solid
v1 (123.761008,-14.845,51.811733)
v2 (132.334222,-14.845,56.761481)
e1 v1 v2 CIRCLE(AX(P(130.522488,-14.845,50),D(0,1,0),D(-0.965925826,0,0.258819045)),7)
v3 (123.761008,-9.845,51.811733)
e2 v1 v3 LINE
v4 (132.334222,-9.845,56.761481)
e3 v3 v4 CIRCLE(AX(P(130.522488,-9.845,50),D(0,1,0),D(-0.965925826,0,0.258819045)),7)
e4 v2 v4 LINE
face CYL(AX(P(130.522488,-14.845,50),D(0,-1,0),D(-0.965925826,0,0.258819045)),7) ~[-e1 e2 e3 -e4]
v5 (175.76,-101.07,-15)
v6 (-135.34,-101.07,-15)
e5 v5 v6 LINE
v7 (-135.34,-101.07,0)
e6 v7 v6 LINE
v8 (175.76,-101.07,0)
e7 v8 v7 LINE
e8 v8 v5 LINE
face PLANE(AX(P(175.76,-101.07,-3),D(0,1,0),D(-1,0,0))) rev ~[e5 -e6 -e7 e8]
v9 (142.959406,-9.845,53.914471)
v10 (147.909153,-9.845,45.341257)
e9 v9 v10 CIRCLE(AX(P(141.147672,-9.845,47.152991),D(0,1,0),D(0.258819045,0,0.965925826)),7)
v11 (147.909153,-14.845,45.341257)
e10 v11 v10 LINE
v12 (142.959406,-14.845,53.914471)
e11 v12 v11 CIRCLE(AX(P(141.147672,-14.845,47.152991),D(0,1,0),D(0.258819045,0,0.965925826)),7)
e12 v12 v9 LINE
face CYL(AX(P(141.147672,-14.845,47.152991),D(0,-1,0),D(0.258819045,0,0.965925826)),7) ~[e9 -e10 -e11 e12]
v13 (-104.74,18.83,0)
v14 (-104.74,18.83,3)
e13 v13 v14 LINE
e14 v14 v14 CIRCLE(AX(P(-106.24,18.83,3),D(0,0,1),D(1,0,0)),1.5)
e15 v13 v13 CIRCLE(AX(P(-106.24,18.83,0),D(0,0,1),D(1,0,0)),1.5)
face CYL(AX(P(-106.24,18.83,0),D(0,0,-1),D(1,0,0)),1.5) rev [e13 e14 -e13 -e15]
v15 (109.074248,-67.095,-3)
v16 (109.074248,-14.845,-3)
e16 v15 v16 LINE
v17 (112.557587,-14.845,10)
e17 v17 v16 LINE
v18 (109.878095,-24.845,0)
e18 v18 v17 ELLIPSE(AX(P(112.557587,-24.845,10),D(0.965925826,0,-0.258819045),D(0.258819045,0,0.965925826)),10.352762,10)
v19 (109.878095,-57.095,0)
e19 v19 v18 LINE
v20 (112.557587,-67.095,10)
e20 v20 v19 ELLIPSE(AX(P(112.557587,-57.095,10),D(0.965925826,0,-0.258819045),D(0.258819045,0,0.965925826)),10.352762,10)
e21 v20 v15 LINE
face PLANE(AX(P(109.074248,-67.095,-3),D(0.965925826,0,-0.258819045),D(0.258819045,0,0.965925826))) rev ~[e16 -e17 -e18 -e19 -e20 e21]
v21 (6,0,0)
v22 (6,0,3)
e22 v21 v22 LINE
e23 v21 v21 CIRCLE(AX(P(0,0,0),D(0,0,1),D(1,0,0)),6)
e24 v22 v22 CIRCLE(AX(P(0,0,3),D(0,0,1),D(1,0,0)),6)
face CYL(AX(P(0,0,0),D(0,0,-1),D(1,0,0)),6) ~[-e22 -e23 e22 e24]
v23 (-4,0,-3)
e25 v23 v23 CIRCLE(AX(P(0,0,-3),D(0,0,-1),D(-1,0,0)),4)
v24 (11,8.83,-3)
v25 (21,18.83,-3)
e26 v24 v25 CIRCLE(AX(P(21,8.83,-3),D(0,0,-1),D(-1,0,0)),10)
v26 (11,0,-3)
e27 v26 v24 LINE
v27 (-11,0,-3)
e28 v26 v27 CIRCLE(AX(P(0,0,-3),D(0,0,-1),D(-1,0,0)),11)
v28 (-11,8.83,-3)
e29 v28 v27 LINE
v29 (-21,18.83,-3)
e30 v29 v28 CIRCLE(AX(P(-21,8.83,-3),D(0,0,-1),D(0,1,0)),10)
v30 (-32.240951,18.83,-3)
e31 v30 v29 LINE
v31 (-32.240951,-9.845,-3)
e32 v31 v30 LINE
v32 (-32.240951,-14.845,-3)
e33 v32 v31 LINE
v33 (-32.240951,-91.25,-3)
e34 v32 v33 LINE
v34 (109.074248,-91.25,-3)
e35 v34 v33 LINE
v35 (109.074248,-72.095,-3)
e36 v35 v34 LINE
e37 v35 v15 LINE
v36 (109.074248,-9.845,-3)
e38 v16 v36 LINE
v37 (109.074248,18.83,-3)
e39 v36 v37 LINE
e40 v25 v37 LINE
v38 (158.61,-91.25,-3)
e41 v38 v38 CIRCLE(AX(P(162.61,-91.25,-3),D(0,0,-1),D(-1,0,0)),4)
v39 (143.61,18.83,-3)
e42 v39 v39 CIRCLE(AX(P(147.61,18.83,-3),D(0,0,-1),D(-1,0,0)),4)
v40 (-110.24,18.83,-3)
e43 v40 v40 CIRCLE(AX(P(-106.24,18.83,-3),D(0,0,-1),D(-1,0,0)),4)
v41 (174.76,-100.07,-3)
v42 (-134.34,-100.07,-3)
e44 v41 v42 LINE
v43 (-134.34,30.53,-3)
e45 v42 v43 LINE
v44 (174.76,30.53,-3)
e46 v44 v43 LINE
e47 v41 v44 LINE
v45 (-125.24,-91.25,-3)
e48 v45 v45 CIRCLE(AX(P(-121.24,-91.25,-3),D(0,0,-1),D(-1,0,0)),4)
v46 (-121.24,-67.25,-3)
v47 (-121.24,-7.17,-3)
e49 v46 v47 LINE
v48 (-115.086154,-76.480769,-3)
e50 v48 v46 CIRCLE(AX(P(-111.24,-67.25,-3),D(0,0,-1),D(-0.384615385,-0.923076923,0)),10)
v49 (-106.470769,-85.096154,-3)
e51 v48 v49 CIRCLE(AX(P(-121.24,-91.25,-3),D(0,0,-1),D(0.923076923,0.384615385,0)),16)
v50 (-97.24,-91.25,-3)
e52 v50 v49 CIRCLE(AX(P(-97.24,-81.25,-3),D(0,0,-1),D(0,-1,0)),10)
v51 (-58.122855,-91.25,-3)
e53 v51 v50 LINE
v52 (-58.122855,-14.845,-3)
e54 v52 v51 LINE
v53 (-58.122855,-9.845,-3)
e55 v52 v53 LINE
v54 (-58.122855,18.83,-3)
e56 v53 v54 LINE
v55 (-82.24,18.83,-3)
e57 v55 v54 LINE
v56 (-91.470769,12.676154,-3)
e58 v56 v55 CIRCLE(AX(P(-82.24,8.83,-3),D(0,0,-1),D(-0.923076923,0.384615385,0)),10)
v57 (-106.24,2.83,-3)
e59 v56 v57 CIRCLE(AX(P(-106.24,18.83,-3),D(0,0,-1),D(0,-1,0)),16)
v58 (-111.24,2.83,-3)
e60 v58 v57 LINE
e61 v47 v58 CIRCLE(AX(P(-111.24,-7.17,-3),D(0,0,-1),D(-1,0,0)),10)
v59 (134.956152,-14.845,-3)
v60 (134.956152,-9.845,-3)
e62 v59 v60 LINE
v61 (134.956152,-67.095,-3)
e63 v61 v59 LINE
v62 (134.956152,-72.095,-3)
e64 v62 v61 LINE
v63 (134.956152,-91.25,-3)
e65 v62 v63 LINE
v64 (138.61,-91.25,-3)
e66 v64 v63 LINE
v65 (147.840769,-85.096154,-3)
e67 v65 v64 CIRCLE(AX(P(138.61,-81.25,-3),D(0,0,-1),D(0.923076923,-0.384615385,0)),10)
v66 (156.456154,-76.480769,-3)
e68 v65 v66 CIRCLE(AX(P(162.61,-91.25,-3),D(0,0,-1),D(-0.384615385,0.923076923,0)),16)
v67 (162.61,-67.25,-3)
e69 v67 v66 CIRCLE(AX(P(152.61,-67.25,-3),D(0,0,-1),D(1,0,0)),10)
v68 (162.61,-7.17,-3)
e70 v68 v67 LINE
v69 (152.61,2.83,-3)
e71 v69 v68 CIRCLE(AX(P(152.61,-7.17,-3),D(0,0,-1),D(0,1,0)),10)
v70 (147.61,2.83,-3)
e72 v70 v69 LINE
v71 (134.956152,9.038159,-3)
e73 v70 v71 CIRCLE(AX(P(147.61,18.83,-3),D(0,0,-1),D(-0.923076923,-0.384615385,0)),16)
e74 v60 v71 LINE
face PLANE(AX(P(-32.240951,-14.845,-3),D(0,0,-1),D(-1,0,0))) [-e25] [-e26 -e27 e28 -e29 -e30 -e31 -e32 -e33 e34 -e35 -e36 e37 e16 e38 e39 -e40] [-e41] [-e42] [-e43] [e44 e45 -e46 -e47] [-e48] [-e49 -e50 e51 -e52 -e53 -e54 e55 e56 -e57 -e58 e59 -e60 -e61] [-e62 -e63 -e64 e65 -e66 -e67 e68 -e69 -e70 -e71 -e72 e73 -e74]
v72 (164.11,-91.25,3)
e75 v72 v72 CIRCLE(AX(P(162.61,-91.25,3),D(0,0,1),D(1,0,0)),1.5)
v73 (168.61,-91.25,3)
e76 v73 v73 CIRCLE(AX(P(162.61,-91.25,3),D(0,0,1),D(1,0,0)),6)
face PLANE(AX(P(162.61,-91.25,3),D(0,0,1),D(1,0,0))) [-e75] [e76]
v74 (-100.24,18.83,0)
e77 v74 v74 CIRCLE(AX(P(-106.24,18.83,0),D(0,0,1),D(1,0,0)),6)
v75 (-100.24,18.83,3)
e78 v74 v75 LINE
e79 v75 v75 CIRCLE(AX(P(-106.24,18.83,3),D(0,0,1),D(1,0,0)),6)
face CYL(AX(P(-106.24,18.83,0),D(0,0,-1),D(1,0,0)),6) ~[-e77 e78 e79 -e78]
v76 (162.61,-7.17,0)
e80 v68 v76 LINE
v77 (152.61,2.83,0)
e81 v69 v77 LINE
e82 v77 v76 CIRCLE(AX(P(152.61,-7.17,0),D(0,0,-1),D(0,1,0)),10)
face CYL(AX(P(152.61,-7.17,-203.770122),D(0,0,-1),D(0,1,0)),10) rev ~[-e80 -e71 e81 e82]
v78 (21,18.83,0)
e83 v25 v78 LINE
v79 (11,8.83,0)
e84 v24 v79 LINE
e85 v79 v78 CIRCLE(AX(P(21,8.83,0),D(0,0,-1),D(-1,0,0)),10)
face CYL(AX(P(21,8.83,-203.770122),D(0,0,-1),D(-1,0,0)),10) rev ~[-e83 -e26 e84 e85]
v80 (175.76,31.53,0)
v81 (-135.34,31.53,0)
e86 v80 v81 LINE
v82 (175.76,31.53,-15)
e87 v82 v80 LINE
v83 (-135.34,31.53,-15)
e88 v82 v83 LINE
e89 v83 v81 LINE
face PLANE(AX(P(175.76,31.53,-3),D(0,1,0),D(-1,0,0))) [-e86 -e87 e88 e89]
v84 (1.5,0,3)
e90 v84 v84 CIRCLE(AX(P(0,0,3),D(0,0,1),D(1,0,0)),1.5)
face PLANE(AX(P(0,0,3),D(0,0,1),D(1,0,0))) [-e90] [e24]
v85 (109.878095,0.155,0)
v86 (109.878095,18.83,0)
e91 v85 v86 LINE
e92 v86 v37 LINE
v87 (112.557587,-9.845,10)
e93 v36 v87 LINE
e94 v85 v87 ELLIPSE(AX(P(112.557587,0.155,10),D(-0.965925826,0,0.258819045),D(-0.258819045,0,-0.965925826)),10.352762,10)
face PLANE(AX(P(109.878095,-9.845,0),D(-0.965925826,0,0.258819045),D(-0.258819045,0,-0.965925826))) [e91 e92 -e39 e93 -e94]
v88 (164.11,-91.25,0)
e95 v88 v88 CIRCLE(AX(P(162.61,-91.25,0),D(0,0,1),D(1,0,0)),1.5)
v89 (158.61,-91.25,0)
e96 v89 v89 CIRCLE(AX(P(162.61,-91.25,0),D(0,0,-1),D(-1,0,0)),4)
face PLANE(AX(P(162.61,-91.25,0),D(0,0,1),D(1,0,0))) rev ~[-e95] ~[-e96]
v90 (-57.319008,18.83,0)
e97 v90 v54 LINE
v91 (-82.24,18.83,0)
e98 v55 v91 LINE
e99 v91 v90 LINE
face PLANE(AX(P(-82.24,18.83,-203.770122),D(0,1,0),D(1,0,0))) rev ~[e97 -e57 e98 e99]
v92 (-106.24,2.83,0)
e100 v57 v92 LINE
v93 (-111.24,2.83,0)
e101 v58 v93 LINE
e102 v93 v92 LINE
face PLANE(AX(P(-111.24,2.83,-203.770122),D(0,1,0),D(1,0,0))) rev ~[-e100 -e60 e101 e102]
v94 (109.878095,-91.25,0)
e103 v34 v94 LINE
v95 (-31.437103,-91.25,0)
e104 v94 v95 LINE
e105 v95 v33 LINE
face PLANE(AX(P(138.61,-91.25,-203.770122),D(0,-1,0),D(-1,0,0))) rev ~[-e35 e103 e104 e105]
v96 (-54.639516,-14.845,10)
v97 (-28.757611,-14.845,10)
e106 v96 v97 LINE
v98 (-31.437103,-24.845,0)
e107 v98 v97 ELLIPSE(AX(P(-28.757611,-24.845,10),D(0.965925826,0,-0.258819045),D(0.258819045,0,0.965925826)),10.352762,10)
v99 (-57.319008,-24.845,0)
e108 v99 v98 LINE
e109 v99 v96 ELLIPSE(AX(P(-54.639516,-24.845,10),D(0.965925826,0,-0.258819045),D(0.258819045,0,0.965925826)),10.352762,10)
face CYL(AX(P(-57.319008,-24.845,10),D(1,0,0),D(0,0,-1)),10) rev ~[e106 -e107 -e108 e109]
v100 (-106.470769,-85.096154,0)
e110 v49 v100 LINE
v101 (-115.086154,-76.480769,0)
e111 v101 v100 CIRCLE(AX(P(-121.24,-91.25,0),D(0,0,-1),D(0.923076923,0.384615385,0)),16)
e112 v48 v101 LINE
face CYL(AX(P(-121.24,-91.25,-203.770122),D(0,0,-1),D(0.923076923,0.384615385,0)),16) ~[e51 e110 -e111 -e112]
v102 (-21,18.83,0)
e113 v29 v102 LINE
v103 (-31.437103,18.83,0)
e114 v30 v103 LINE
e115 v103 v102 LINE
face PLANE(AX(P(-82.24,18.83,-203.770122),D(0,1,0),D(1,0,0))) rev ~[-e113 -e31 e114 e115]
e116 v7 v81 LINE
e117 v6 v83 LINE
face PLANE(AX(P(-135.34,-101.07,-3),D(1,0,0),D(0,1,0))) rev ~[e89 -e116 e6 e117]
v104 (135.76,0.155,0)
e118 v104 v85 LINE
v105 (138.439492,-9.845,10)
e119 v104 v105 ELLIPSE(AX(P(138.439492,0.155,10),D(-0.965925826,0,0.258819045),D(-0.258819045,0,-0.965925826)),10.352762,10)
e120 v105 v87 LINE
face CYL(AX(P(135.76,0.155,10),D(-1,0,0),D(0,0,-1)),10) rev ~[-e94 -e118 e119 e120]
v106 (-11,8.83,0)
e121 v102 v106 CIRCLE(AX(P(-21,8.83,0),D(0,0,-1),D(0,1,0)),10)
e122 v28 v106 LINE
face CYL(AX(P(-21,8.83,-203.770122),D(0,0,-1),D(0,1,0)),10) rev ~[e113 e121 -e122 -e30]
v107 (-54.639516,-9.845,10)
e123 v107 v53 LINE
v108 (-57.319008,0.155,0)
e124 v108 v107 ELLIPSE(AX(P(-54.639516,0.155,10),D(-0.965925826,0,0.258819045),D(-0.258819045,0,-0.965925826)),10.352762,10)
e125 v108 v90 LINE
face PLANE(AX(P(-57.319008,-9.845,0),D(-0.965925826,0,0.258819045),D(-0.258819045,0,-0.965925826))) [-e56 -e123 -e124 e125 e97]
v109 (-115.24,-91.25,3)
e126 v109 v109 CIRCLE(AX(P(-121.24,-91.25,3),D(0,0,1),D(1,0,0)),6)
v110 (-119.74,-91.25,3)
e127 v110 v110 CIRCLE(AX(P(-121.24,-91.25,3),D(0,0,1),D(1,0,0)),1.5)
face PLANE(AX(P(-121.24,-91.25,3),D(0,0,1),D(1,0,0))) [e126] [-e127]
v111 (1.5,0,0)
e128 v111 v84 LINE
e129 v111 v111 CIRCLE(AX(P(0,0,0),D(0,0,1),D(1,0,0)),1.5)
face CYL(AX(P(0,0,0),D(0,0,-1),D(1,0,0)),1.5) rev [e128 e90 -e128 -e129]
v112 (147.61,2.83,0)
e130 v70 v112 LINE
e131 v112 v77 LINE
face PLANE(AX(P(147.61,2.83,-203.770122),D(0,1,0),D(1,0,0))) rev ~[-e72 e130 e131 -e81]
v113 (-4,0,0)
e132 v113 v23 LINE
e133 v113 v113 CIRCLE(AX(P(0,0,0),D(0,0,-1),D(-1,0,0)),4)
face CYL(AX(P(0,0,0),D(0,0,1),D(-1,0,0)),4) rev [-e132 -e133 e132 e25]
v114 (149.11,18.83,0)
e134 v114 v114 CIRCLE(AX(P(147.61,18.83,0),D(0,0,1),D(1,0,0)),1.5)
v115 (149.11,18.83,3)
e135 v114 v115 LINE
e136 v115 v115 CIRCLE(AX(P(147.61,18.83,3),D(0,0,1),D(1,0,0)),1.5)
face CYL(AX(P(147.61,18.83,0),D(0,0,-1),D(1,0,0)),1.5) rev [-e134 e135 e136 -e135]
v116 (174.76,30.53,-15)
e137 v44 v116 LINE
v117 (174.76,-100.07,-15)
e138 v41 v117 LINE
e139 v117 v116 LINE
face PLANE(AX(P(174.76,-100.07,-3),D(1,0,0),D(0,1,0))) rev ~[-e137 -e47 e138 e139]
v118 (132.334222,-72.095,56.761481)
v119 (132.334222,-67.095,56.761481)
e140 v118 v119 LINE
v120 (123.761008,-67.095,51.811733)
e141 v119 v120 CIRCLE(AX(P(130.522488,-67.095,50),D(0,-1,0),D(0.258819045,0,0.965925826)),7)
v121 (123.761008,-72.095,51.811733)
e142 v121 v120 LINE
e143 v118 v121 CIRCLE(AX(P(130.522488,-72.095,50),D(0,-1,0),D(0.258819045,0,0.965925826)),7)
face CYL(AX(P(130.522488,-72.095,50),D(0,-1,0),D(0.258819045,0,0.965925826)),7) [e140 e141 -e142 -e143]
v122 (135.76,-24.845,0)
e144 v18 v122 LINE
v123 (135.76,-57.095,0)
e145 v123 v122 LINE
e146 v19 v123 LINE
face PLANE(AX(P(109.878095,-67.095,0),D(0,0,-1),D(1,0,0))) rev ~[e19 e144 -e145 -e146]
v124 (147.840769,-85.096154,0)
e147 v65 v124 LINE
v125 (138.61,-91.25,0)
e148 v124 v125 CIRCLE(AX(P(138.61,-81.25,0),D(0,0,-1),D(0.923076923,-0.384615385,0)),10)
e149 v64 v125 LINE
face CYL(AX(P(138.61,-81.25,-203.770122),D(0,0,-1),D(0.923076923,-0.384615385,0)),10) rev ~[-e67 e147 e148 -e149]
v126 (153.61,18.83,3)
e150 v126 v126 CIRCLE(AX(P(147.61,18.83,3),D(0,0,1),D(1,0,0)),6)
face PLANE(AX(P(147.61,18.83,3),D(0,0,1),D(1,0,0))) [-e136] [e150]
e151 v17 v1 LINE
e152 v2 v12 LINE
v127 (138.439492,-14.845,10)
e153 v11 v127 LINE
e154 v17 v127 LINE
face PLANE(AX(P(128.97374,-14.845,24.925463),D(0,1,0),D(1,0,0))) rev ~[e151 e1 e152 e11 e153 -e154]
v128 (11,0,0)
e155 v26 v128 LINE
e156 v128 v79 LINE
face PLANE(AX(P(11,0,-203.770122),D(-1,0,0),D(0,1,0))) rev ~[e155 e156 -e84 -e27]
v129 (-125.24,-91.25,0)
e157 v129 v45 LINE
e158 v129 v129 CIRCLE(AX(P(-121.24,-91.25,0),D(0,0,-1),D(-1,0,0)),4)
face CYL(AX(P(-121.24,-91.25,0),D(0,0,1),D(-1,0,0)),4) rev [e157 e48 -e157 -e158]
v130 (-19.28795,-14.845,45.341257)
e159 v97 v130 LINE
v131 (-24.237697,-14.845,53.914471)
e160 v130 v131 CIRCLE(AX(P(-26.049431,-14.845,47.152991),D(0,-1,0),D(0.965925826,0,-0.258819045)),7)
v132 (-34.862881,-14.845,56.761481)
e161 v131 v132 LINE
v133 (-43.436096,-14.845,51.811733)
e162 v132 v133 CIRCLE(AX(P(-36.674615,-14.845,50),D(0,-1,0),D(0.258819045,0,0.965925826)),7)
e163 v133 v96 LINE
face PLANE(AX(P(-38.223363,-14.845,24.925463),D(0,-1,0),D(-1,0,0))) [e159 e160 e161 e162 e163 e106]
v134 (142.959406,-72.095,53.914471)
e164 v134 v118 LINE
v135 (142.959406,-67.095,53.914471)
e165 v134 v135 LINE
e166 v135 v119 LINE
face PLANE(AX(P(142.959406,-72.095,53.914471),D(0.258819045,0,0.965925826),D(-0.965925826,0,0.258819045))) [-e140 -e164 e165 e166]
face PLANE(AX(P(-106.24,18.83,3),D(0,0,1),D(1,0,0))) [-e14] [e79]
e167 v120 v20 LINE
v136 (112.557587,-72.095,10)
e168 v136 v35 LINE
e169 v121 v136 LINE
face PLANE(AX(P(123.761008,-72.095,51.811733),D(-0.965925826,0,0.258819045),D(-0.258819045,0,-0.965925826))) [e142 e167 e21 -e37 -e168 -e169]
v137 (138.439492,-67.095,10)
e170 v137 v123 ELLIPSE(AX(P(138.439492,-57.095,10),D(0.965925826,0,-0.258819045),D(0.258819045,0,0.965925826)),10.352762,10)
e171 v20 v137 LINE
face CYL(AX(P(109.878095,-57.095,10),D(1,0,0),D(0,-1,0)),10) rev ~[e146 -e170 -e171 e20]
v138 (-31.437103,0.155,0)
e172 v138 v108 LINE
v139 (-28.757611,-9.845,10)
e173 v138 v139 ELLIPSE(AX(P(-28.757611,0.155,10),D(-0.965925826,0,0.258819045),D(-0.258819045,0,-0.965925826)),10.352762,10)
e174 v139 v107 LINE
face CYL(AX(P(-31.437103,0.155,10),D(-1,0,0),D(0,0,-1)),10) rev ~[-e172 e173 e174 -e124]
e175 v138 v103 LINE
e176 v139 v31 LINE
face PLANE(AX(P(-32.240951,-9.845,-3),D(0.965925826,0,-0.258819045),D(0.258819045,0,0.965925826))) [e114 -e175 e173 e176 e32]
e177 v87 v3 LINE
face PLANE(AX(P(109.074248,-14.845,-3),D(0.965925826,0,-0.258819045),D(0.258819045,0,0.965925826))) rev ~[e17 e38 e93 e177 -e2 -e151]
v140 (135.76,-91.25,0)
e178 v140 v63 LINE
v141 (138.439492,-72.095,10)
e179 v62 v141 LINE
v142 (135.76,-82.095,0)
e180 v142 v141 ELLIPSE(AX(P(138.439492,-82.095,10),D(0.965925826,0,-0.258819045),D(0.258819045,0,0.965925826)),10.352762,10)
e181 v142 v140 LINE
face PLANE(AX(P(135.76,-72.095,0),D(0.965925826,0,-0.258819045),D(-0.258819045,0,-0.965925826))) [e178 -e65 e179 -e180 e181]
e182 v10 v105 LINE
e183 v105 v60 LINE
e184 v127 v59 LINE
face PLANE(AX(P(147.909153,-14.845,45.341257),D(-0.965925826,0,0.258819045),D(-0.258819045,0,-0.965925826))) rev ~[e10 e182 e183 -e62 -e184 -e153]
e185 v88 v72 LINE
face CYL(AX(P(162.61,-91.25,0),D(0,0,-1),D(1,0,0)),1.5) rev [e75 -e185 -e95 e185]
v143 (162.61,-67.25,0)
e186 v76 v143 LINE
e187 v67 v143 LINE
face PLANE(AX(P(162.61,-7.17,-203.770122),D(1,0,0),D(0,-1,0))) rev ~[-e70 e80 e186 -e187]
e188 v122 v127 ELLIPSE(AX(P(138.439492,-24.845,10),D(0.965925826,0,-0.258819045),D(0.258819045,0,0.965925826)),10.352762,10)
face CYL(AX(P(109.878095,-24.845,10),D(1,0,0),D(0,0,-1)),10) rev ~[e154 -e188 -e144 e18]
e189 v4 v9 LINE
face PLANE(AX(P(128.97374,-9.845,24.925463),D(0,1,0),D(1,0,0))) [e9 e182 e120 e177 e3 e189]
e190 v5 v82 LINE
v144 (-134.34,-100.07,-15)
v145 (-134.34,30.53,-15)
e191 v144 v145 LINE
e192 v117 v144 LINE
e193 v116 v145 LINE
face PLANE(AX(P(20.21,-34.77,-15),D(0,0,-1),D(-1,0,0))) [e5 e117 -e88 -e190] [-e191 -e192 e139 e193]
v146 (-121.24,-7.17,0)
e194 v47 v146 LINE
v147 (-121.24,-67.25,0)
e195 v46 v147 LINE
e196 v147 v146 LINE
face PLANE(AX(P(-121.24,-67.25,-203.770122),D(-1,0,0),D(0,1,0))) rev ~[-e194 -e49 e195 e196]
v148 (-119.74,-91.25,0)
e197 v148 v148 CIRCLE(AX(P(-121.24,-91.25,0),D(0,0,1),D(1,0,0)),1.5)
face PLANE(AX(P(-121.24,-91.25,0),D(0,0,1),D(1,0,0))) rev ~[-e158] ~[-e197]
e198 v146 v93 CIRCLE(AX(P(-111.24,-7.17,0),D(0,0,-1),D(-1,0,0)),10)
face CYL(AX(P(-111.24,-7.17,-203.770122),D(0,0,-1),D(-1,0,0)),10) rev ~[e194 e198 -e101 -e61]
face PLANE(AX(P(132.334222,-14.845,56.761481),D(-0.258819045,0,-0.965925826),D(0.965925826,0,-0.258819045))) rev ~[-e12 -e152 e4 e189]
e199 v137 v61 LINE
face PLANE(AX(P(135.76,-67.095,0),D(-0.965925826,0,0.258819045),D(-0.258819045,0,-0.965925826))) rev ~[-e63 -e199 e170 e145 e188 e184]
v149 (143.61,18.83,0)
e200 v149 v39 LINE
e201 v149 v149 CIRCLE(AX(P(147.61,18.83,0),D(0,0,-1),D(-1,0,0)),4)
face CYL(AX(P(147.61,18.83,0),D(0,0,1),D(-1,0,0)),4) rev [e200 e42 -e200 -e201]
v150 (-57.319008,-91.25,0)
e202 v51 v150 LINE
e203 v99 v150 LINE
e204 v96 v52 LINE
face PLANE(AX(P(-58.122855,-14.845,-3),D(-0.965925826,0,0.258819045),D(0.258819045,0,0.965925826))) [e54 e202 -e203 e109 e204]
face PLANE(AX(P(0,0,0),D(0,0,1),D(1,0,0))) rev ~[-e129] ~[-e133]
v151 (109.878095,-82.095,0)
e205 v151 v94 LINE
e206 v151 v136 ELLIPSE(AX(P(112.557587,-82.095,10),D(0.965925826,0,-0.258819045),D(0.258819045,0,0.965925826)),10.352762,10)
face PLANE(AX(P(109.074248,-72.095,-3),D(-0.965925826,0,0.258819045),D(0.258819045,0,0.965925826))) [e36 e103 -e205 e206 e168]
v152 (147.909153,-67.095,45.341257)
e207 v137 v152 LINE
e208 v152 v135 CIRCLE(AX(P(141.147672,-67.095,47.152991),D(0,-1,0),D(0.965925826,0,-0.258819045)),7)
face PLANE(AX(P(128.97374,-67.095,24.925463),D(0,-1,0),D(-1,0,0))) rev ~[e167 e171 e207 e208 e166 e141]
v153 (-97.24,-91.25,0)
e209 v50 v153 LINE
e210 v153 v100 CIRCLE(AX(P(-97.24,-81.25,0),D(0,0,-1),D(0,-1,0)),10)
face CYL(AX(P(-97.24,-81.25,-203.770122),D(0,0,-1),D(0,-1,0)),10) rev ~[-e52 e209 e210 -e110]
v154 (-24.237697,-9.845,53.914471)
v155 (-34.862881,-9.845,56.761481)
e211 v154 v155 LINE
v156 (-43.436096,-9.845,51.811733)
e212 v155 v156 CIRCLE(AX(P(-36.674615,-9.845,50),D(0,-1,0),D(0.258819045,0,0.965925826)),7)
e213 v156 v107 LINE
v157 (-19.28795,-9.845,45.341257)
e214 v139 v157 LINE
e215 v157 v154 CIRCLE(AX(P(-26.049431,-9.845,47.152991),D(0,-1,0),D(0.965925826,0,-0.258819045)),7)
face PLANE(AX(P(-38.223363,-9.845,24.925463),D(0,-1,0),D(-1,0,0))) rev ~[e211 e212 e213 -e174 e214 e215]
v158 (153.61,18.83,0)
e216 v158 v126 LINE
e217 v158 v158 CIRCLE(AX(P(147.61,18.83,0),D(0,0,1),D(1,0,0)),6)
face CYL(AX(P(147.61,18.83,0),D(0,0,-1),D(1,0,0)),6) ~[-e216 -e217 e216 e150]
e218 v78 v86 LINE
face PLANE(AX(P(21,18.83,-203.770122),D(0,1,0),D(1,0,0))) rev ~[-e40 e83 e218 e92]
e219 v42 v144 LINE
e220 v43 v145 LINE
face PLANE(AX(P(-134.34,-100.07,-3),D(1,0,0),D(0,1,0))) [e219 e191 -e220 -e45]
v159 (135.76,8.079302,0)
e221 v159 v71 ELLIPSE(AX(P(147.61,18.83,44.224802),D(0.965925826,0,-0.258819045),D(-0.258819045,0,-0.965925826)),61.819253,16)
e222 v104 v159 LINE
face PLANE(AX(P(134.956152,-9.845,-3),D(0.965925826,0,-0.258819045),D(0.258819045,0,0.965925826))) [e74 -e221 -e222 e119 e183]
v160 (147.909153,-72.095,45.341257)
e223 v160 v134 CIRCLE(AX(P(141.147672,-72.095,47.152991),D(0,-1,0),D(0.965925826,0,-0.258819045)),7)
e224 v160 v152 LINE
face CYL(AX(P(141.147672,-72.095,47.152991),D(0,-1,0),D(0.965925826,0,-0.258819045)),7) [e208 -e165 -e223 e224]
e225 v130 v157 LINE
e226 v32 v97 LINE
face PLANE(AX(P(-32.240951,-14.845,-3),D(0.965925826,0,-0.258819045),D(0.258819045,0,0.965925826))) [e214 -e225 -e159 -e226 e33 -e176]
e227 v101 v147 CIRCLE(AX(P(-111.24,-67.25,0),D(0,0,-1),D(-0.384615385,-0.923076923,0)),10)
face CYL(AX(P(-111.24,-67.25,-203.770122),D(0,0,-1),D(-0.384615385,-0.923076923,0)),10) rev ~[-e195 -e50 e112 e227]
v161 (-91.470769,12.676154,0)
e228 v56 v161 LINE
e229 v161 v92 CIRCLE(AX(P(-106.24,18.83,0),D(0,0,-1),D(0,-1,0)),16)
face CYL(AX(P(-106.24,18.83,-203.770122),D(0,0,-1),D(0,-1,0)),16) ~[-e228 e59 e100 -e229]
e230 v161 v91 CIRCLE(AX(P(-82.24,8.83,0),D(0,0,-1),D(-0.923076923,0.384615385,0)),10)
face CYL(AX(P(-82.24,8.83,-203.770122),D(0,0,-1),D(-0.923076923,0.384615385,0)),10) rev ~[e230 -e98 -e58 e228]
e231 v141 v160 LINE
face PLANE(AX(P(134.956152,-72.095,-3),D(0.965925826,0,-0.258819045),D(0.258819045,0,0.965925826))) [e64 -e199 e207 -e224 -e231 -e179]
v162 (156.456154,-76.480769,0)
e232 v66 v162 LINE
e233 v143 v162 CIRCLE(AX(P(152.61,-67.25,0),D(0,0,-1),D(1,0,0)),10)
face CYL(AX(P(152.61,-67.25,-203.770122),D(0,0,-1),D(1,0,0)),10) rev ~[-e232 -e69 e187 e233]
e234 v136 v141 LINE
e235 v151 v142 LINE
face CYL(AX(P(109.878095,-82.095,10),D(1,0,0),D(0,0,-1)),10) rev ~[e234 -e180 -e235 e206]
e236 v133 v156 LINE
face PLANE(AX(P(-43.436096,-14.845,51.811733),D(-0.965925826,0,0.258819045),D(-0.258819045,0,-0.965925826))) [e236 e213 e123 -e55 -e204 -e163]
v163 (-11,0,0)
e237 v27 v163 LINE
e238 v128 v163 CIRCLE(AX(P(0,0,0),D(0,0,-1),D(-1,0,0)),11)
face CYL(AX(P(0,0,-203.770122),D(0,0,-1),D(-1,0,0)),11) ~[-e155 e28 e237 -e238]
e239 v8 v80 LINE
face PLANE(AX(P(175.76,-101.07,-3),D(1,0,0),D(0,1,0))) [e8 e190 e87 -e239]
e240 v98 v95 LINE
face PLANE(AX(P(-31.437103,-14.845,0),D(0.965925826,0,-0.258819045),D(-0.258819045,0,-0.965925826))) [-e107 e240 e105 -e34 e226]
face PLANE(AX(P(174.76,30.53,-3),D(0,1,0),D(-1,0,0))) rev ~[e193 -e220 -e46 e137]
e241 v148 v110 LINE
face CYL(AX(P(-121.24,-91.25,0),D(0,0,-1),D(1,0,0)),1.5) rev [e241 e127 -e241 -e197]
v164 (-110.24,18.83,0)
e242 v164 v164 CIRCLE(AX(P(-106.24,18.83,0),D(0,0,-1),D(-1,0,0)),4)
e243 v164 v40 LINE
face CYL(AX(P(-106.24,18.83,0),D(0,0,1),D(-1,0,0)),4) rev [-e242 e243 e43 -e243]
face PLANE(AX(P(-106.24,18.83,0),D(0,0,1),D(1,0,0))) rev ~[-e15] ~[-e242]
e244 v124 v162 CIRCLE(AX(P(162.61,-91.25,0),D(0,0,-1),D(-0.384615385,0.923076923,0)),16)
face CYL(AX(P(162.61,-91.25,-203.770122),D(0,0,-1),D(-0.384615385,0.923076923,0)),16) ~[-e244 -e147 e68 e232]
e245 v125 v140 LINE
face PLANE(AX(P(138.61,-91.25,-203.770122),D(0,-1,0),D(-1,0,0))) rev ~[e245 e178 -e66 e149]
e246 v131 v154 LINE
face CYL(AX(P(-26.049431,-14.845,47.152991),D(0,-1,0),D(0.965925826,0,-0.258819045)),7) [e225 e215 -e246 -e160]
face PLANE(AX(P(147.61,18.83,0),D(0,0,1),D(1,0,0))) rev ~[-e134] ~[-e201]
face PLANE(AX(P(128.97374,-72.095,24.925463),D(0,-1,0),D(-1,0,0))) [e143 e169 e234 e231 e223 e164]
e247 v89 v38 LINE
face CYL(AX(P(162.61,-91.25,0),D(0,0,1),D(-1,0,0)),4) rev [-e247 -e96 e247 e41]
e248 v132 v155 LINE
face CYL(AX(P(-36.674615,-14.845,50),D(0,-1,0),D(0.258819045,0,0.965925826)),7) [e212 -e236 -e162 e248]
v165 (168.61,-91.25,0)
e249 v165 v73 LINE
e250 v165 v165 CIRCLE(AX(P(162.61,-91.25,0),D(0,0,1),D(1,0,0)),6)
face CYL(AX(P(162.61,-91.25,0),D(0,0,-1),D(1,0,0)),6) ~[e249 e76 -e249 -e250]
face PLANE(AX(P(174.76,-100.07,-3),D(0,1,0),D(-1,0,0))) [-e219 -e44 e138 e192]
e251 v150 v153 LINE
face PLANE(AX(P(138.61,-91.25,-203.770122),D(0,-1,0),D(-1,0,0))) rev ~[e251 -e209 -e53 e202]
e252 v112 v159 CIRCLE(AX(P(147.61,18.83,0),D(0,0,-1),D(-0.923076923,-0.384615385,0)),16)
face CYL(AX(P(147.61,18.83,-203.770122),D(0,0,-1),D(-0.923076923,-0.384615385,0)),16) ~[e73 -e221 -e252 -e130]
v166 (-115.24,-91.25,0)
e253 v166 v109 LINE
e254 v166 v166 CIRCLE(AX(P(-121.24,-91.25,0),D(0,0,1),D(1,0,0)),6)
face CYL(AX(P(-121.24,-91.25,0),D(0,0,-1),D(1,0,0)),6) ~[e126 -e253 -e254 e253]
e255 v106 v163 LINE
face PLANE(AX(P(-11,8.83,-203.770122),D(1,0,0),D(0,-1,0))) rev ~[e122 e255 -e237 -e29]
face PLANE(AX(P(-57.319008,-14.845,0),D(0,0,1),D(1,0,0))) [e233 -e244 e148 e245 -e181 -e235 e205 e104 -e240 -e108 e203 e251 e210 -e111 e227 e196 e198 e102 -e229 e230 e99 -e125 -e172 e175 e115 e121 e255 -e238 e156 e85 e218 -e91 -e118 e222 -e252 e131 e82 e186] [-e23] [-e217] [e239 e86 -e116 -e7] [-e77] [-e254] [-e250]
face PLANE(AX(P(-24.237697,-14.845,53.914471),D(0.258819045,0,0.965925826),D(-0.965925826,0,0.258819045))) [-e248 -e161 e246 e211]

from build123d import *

# Parameters (mm, degrees)
SKETCH1_R                             = 6
SKETCH1_R_2                           = 1.5
DISPLAY_SCREW_PATTERN_DEPTH           = 3
DISPLAY_SCREW_PATTERN_2_DEPTH         = 3
DISPLAY_SCREW_PATTERN_3_DEPTH         = 3
DISPLAY_SCREW_PATTERN_4_DEPTH         = 3
DISPLAY_SCREW_PATTERN_5_DEPTH         = 3
SKETCH2_W                             = 311.1
SKETCH2_H                             = 132.6
SKETCH2_R                             = 4
DISPLAY_BACKPLANE_DEPTH               = 3
BACKPLANE_WEIGHT_REDUCTION_DEPTH      = 203.770122306
BACKPLANE_WEIGHT_REDUCTION_DEPTH_BACK = 203.770122306
SKETCH4_W                             = 311.1
SKETCH4_H                             = 132.6
SKETCH4_W_2                           = 309.1
SKETCH4_H_2                           = 130.6
DISPLAY_OUTSIDE_CRADDLE_DEPTH         = 12
BOTTOM_RADIO_MOUNT_TABS_DEPTH         = 5
TOP_RADIO_MOUNT_TABS_DEPTH            = 5
TOP_RADIO_MOUNT_TABS_2_DEPTH          = 5
BOSS_EXTRUDE6_REACH                   = 208.065
BOSS_EXTRUDE7_REACH                   = 211.446
BOSS_EXTRUDE8_REACH                   = 213.846
BOSS_EXTRUDE9_REACH                   = 205.9
TAB_FILLETS_10MM_R                    = 10


with BuildPart() as part:
    # Sketch1 → Display screw pattern (new body)
    with BuildSketch(Plane.XY):
        Circle(SKETCH1_R)
        Circle(SKETCH1_R_2, mode=Mode.SUBTRACT)
    extrude(amount=DISPLAY_SCREW_PATTERN_DEPTH)



with BuildPart() as body_2:
    # Sketch1 → Display screw pattern 2 (new body)
    with BuildSketch(Plane.XY):
        with Locations((-106.24, 18.83)):
            Circle(SKETCH1_R)
        with Locations((-106.24, 18.83)):
            Circle(SKETCH1_R_2, mode=Mode.SUBTRACT)
    extrude(amount=DISPLAY_SCREW_PATTERN_2_DEPTH)


with BuildPart() as body_3:
    # Sketch1 → Display screw pattern 3 (new body)
    with BuildSketch(Plane.XY):
        with Locations((147.61, 18.83)):
            Circle(SKETCH1_R)
        with Locations((147.61, 18.83)):
            Circle(SKETCH1_R_2, mode=Mode.SUBTRACT)
    extrude(amount=DISPLAY_SCREW_PATTERN_3_DEPTH)


with BuildPart() as body_4:
    # Sketch1 → Display screw pattern 4 (new body)
    with BuildSketch(Plane.XY):
        with Locations((-121.24, -91.25)):
            Circle(SKETCH1_R)
        with Locations((-121.24, -91.25)):
            Circle(SKETCH1_R_2, mode=Mode.SUBTRACT)
    extrude(amount=DISPLAY_SCREW_PATTERN_4_DEPTH)


with BuildPart() as body_5:
    # Sketch1 → Display screw pattern 5 (new body)
    with BuildSketch(Plane.XY):
        with Locations((162.61, -91.25)):
            Circle(SKETCH1_R)
        with Locations((162.61, -91.25)):
            Circle(SKETCH1_R_2, mode=Mode.SUBTRACT)
    extrude(amount=DISPLAY_SCREW_PATTERN_5_DEPTH)


with BuildPart() as part_1:
    add(part.part)

    add(body_2.part)  # Display backplane merges body 2

    add(body_3.part)  # Display backplane merges body 3

    add(body_4.part)  # Display backplane merges body 4

    add(body_5.part)  # Display backplane merges body 5
    # Sketch2 → Display backplane (add)
    with BuildSketch(Plane(origin=(0, 0, 0), x_dir=(-1, 0, 0), z_dir=(0, 0, -1))):
        with Locations((-20.21, -34.77)):
            Rectangle(SKETCH2_W, SKETCH2_H)
        with Locations((106.24, 18.83)):
            Circle(SKETCH2_R, mode=Mode.SUBTRACT)
        Circle(SKETCH2_R, mode=Mode.SUBTRACT)
        with Locations((121.24, -91.25)):
            Circle(SKETCH2_R, mode=Mode.SUBTRACT)
        with Locations((-147.61, 18.83)):
            Circle(SKETCH2_R, mode=Mode.SUBTRACT)
        with Locations((-162.61, -91.25)):
            Circle(SKETCH2_R, mode=Mode.SUBTRACT)
    extrude(amount=DISPLAY_BACKPLANE_DEPTH)

    # Sketch3 → Backplane weight reduction (cut, two sides: drawn at the far end of the back side and taken through both)
    with BuildSketch(Plane.XY.offset(-BACKPLANE_WEIGHT_REDUCTION_DEPTH_BACK)):
        with BuildLine():
            Line((162.61, -7.17), (162.61, -67.25))
            ThreePointArc((162.61, -67.25), (160.930502943, -72.797001962), (156.456153846, -76.480769231))
            ThreePointArc((156.456153846, -76.480769231), (151.296291501, -79.936291501), (147.840769231, -85.096153846))
            ThreePointArc((147.840769231, -85.096153846), (144.157001962, -89.570502943), (138.61, -91.25))
            Line((138.61, -91.25), (-97.24, -91.25))
            ThreePointArc((-97.24, -91.25), (-102.787001962, -89.570502943), (-106.470769231, -85.096153846))
            ThreePointArc((-106.470769231, -85.096153846), (-109.926291501, -79.936291501), (-115.086153846, -76.480769231))
            ThreePointArc((-115.086153846, -76.480769231), (-119.560502943, -72.797001962), (-121.24, -67.25))
            Line((-121.24, -67.25), (-121.24, -7.17))
            ThreePointArc((-121.24, -7.17), (-118.311067812, -0.098932188), (-111.24, 2.83))
            Line((-111.24, 2.83), (-106.24, 2.83))
            ThreePointArc((-106.24, 2.83), (-97.36479686, 5.517195291), (-91.470769231, 12.676153846))
            ThreePointArc((-91.470769231, 12.676153846), (-87.787001962, 17.150502943), (-82.24, 18.83))
            Line((-82.24, 18.83), (-21, 18.83))
            ThreePointArc((-21, 18.83), (-13.928932188, 15.901067812), (-11, 8.83))
            Line((-11, 8.83), (-11, 0))
            ThreePointArc((-11, 0), (0, -11), (11, 0))
            Line((11, 0), (11, 8.83))
            ThreePointArc((11, 8.83), (13.928932188, 15.901067812), (21, 18.83))
            Line((21, 18.83), (123.61, 18.83))
            ThreePointArc((123.61, 18.83), (129.157001962, 17.150502943), (132.840769231, 12.676153846))
            ThreePointArc((132.840769231, 12.676153846), (138.73479686, 5.517195291), (147.61, 2.83))
            Line((147.61, 2.83), (152.61, 2.83))
            ThreePointArc((152.61, 2.83), (159.681067812, -0.098932188), (162.61, -7.17))
        make_face()
    extrude(amount=BACKPLANE_WEIGHT_REDUCTION_DEPTH + BACKPLANE_WEIGHT_REDUCTION_DEPTH_BACK, mode=Mode.SUBTRACT)

    # Sketch4 → Display outside craddle (add)
    with BuildSketch(Plane(origin=(0, 0, -3), x_dir=(-1, 0, 0), z_dir=(0, 0, -1))):
        with Locations((-20.21, -34.77)):
            Rectangle(SKETCH4_W, SKETCH4_H)
        with Locations((-20.21, -34.77)):
            Rectangle(SKETCH4_W_2, SKETCH4_H_2, mode=Mode.SUBTRACT)
    extrude(amount=DISPLAY_OUTSIDE_CRADDLE_DEPTH)

    # Sketch9 → Boss-Extrude6 (add, up to next)
    with BuildSketch(Plane(origin=(0, -9.845, 0), x_dir=(1, 0, 0), z_dir=(0, 1, 0)), mode=Mode.PRIVATE) as boss_extrude6_sk1:
        Polygon((109.074247912, 3), (134.956152423, 3), (135.76, 0), (109.87809549, 0), align=None)
    boss_extrude6_tool1 = extrude(boss_extrude6_sk1.sketch, amount=BOSS_EXTRUDE6_REACH, mode=Mode.PRIVATE) - part_1.part
    # Sketch9 → Boss-Extrude6 (add, up to next)
    with BuildSketch(Plane(origin=(0, -9.845, 0), x_dir=(1, 0, 0), z_dir=(0, 1, 0)), mode=Mode.PRIVATE) as boss_extrude6_sk2:
        Polygon((-58.122855224, 3), (-32.240950714, 3), (-31.437103136, 0), (-57.319007646, 0), align=None)
    boss_extrude6_tool2 = extrude(boss_extrude6_sk2.sketch, amount=BOSS_EXTRUDE6_REACH, mode=Mode.PRIVATE) - part_1.part


with BuildPart() as body_2_2:
    # Sketch5 → Bottom radio mount tabs (new body)
    with BuildSketch(Plane(origin=(0, -72.095, 0), x_dir=(1, 0, 0), z_dir=(0, 1, 0))):
        with BuildLine():
            Line((134.956152423, 3), (147.909153247, -45.341257188))
            ThreePointArc((147.909153247, -45.341257188), (147.20985029, -50.652990504), (142.959405779, -53.914471288))
            Line((142.959405779, -53.914471288), (132.33422169, -56.761480784))
            ThreePointArc((132.33422169, -56.761480784), (127.022488374, -56.062177826), (123.76100759, -51.811733316))
            Line((123.76100759, -51.811733316), (109.074247912, 3))
            Line((109.074247912, 3), (134.956152423, 3))
        make_face()
    extrude(amount=BOTTOM_RADIO_MOUNT_TABS_DEPTH)


with BuildPart() as body_3_2:
    # Sketch7 → Top radio mount tabs (new body)
    with BuildSketch(Plane(origin=(0, -14.845, 0), x_dir=(1, 0, 0), z_dir=(0, 1, 0))):
        with BuildLine():
            Line((-32.240950714, 3), (-19.287949889, -45.341257188))
            ThreePointArc((-19.287949889, -45.341257188), (-19.987252846, -50.652990504), (-24.237697357, -53.914471288))
            Line((-24.237697357, -53.914471288), (-34.862881446, -56.761480784))
            ThreePointArc((-34.862881446, -56.761480784), (-40.174614762, -56.062177826), (-43.436095546, -51.811733316))
            Line((-43.436095546, -51.811733316), (-58.122855224, 3))
            Line((-58.122855224, 3), (-32.240950714, 3))
        make_face()
    extrude(amount=TOP_RADIO_MOUNT_TABS_DEPTH)


with BuildPart() as body_4_2:
    # Sketch7 → Top radio mount tabs 2 (new body)
    with BuildSketch(Plane(origin=(0, -14.845, 0), x_dir=(1, 0, 0), z_dir=(0, 1, 0))):
        with BuildLine():
            Line((132.33422169, -56.761480784), (142.959405779, -53.914471288))
            ThreePointArc((142.959405779, -53.914471288), (147.20985029, -50.652990504), (147.909153247, -45.341257188))
            Line((147.909153247, -45.341257188), (134.956152423, 3))
            Line((134.956152423, 3), (109.074247912, 3))
            Line((109.074247912, 3), (123.76100759, -51.811733316))
            ThreePointArc((123.76100759, -51.811733316), (127.022488374, -56.062177826), (132.33422169, -56.761480784))
        make_face()
    extrude(amount=TOP_RADIO_MOUNT_TABS_2_DEPTH)


with BuildPart() as part_2:
    add(part_1.part)

    add(body_3_2.part)  # Boss-Extrude6 merges body 3 2

    add(body_4_2.part)  # Boss-Extrude6 merges body 4 2
    add(boss_extrude6_tool1.solids().sort_by_distance((122.417124, -9.845, -1.5))[0])
    add(boss_extrude6_tool2.solids().sort_by_distance((-44.779979, -9.845, -1.5))[0])

    # Sketch10 → Boss-Extrude7 (add, up to next)
    with BuildSketch(Plane(origin=(0, -67.095, 0), x_dir=(1, 0, 0), z_dir=(0, 1, 0)), mode=Mode.PRIVATE) as boss_extrude7_sk1:
        Polygon((109.074247912, 3), (109.87809549, 0), (135.76, 0), (134.956152423, 3), align=None)
    boss_extrude7_tool1 = extrude(boss_extrude7_sk1.sketch, amount=BOSS_EXTRUDE7_REACH, mode=Mode.PRIVATE) - part_2.part

    add(body_2_2.part)  # Boss-Extrude7 merges body 2 2
    add(boss_extrude7_tool1.solids().sort_by_distance((122.417124, -67.095, -1.5))[0])

    # Sketch11 → Boss-Extrude8 (add, up to next)
    with BuildSketch(Plane.XZ.offset(72.095), mode=Mode.PRIVATE) as boss_extrude8_sk1:
        Polygon((134.956152423, -3), (109.074247912, -3), (109.87809549, 0), (135.76, 0), align=None)
    boss_extrude8_tool1 = extrude(boss_extrude8_sk1.sketch, amount=BOSS_EXTRUDE8_REACH, mode=Mode.PRIVATE) - part_2.part
    add(boss_extrude8_tool1.solids().sort_by_distance((122.417124, -72.095, -1.5))[0])

    # Sketch12 → Boss-Extrude9 (add, up to next)
    with BuildSketch(Plane.XZ.offset(14.845), mode=Mode.PRIVATE) as boss_extrude9_sk1:
        Polygon((-32.240950714, -3), (-58.122855224, -3), (-57.319007646, 0), (-31.437103136, 0), align=None)
    boss_extrude9_tool1 = extrude(boss_extrude9_sk1.sketch, amount=BOSS_EXTRUDE9_REACH, mode=Mode.PRIVATE) - part_2.part
    add(boss_extrude9_tool1.solids().sort_by_distance((-44.779979, -14.845, -1.5))[0])

    # Tab fillets 10mm
    tab_fillets_10mm_edges = [part_2.edges().sort_by_distance(p)[0] for p in [
        (122.819047745, -9.845, 0),
        (-44.378055391, -9.845, 0),
        (122.819047745, -14.845, 0),
        (122.819047745, -67.095, 0),
        (122.819047745, -72.095, 0),
        (-44.378055391, -14.845, 0),
    ]]
    fillet(tab_fillets_10mm_edges, radius=TAB_FILLETS_10MM_R)


solid = part_2.part
